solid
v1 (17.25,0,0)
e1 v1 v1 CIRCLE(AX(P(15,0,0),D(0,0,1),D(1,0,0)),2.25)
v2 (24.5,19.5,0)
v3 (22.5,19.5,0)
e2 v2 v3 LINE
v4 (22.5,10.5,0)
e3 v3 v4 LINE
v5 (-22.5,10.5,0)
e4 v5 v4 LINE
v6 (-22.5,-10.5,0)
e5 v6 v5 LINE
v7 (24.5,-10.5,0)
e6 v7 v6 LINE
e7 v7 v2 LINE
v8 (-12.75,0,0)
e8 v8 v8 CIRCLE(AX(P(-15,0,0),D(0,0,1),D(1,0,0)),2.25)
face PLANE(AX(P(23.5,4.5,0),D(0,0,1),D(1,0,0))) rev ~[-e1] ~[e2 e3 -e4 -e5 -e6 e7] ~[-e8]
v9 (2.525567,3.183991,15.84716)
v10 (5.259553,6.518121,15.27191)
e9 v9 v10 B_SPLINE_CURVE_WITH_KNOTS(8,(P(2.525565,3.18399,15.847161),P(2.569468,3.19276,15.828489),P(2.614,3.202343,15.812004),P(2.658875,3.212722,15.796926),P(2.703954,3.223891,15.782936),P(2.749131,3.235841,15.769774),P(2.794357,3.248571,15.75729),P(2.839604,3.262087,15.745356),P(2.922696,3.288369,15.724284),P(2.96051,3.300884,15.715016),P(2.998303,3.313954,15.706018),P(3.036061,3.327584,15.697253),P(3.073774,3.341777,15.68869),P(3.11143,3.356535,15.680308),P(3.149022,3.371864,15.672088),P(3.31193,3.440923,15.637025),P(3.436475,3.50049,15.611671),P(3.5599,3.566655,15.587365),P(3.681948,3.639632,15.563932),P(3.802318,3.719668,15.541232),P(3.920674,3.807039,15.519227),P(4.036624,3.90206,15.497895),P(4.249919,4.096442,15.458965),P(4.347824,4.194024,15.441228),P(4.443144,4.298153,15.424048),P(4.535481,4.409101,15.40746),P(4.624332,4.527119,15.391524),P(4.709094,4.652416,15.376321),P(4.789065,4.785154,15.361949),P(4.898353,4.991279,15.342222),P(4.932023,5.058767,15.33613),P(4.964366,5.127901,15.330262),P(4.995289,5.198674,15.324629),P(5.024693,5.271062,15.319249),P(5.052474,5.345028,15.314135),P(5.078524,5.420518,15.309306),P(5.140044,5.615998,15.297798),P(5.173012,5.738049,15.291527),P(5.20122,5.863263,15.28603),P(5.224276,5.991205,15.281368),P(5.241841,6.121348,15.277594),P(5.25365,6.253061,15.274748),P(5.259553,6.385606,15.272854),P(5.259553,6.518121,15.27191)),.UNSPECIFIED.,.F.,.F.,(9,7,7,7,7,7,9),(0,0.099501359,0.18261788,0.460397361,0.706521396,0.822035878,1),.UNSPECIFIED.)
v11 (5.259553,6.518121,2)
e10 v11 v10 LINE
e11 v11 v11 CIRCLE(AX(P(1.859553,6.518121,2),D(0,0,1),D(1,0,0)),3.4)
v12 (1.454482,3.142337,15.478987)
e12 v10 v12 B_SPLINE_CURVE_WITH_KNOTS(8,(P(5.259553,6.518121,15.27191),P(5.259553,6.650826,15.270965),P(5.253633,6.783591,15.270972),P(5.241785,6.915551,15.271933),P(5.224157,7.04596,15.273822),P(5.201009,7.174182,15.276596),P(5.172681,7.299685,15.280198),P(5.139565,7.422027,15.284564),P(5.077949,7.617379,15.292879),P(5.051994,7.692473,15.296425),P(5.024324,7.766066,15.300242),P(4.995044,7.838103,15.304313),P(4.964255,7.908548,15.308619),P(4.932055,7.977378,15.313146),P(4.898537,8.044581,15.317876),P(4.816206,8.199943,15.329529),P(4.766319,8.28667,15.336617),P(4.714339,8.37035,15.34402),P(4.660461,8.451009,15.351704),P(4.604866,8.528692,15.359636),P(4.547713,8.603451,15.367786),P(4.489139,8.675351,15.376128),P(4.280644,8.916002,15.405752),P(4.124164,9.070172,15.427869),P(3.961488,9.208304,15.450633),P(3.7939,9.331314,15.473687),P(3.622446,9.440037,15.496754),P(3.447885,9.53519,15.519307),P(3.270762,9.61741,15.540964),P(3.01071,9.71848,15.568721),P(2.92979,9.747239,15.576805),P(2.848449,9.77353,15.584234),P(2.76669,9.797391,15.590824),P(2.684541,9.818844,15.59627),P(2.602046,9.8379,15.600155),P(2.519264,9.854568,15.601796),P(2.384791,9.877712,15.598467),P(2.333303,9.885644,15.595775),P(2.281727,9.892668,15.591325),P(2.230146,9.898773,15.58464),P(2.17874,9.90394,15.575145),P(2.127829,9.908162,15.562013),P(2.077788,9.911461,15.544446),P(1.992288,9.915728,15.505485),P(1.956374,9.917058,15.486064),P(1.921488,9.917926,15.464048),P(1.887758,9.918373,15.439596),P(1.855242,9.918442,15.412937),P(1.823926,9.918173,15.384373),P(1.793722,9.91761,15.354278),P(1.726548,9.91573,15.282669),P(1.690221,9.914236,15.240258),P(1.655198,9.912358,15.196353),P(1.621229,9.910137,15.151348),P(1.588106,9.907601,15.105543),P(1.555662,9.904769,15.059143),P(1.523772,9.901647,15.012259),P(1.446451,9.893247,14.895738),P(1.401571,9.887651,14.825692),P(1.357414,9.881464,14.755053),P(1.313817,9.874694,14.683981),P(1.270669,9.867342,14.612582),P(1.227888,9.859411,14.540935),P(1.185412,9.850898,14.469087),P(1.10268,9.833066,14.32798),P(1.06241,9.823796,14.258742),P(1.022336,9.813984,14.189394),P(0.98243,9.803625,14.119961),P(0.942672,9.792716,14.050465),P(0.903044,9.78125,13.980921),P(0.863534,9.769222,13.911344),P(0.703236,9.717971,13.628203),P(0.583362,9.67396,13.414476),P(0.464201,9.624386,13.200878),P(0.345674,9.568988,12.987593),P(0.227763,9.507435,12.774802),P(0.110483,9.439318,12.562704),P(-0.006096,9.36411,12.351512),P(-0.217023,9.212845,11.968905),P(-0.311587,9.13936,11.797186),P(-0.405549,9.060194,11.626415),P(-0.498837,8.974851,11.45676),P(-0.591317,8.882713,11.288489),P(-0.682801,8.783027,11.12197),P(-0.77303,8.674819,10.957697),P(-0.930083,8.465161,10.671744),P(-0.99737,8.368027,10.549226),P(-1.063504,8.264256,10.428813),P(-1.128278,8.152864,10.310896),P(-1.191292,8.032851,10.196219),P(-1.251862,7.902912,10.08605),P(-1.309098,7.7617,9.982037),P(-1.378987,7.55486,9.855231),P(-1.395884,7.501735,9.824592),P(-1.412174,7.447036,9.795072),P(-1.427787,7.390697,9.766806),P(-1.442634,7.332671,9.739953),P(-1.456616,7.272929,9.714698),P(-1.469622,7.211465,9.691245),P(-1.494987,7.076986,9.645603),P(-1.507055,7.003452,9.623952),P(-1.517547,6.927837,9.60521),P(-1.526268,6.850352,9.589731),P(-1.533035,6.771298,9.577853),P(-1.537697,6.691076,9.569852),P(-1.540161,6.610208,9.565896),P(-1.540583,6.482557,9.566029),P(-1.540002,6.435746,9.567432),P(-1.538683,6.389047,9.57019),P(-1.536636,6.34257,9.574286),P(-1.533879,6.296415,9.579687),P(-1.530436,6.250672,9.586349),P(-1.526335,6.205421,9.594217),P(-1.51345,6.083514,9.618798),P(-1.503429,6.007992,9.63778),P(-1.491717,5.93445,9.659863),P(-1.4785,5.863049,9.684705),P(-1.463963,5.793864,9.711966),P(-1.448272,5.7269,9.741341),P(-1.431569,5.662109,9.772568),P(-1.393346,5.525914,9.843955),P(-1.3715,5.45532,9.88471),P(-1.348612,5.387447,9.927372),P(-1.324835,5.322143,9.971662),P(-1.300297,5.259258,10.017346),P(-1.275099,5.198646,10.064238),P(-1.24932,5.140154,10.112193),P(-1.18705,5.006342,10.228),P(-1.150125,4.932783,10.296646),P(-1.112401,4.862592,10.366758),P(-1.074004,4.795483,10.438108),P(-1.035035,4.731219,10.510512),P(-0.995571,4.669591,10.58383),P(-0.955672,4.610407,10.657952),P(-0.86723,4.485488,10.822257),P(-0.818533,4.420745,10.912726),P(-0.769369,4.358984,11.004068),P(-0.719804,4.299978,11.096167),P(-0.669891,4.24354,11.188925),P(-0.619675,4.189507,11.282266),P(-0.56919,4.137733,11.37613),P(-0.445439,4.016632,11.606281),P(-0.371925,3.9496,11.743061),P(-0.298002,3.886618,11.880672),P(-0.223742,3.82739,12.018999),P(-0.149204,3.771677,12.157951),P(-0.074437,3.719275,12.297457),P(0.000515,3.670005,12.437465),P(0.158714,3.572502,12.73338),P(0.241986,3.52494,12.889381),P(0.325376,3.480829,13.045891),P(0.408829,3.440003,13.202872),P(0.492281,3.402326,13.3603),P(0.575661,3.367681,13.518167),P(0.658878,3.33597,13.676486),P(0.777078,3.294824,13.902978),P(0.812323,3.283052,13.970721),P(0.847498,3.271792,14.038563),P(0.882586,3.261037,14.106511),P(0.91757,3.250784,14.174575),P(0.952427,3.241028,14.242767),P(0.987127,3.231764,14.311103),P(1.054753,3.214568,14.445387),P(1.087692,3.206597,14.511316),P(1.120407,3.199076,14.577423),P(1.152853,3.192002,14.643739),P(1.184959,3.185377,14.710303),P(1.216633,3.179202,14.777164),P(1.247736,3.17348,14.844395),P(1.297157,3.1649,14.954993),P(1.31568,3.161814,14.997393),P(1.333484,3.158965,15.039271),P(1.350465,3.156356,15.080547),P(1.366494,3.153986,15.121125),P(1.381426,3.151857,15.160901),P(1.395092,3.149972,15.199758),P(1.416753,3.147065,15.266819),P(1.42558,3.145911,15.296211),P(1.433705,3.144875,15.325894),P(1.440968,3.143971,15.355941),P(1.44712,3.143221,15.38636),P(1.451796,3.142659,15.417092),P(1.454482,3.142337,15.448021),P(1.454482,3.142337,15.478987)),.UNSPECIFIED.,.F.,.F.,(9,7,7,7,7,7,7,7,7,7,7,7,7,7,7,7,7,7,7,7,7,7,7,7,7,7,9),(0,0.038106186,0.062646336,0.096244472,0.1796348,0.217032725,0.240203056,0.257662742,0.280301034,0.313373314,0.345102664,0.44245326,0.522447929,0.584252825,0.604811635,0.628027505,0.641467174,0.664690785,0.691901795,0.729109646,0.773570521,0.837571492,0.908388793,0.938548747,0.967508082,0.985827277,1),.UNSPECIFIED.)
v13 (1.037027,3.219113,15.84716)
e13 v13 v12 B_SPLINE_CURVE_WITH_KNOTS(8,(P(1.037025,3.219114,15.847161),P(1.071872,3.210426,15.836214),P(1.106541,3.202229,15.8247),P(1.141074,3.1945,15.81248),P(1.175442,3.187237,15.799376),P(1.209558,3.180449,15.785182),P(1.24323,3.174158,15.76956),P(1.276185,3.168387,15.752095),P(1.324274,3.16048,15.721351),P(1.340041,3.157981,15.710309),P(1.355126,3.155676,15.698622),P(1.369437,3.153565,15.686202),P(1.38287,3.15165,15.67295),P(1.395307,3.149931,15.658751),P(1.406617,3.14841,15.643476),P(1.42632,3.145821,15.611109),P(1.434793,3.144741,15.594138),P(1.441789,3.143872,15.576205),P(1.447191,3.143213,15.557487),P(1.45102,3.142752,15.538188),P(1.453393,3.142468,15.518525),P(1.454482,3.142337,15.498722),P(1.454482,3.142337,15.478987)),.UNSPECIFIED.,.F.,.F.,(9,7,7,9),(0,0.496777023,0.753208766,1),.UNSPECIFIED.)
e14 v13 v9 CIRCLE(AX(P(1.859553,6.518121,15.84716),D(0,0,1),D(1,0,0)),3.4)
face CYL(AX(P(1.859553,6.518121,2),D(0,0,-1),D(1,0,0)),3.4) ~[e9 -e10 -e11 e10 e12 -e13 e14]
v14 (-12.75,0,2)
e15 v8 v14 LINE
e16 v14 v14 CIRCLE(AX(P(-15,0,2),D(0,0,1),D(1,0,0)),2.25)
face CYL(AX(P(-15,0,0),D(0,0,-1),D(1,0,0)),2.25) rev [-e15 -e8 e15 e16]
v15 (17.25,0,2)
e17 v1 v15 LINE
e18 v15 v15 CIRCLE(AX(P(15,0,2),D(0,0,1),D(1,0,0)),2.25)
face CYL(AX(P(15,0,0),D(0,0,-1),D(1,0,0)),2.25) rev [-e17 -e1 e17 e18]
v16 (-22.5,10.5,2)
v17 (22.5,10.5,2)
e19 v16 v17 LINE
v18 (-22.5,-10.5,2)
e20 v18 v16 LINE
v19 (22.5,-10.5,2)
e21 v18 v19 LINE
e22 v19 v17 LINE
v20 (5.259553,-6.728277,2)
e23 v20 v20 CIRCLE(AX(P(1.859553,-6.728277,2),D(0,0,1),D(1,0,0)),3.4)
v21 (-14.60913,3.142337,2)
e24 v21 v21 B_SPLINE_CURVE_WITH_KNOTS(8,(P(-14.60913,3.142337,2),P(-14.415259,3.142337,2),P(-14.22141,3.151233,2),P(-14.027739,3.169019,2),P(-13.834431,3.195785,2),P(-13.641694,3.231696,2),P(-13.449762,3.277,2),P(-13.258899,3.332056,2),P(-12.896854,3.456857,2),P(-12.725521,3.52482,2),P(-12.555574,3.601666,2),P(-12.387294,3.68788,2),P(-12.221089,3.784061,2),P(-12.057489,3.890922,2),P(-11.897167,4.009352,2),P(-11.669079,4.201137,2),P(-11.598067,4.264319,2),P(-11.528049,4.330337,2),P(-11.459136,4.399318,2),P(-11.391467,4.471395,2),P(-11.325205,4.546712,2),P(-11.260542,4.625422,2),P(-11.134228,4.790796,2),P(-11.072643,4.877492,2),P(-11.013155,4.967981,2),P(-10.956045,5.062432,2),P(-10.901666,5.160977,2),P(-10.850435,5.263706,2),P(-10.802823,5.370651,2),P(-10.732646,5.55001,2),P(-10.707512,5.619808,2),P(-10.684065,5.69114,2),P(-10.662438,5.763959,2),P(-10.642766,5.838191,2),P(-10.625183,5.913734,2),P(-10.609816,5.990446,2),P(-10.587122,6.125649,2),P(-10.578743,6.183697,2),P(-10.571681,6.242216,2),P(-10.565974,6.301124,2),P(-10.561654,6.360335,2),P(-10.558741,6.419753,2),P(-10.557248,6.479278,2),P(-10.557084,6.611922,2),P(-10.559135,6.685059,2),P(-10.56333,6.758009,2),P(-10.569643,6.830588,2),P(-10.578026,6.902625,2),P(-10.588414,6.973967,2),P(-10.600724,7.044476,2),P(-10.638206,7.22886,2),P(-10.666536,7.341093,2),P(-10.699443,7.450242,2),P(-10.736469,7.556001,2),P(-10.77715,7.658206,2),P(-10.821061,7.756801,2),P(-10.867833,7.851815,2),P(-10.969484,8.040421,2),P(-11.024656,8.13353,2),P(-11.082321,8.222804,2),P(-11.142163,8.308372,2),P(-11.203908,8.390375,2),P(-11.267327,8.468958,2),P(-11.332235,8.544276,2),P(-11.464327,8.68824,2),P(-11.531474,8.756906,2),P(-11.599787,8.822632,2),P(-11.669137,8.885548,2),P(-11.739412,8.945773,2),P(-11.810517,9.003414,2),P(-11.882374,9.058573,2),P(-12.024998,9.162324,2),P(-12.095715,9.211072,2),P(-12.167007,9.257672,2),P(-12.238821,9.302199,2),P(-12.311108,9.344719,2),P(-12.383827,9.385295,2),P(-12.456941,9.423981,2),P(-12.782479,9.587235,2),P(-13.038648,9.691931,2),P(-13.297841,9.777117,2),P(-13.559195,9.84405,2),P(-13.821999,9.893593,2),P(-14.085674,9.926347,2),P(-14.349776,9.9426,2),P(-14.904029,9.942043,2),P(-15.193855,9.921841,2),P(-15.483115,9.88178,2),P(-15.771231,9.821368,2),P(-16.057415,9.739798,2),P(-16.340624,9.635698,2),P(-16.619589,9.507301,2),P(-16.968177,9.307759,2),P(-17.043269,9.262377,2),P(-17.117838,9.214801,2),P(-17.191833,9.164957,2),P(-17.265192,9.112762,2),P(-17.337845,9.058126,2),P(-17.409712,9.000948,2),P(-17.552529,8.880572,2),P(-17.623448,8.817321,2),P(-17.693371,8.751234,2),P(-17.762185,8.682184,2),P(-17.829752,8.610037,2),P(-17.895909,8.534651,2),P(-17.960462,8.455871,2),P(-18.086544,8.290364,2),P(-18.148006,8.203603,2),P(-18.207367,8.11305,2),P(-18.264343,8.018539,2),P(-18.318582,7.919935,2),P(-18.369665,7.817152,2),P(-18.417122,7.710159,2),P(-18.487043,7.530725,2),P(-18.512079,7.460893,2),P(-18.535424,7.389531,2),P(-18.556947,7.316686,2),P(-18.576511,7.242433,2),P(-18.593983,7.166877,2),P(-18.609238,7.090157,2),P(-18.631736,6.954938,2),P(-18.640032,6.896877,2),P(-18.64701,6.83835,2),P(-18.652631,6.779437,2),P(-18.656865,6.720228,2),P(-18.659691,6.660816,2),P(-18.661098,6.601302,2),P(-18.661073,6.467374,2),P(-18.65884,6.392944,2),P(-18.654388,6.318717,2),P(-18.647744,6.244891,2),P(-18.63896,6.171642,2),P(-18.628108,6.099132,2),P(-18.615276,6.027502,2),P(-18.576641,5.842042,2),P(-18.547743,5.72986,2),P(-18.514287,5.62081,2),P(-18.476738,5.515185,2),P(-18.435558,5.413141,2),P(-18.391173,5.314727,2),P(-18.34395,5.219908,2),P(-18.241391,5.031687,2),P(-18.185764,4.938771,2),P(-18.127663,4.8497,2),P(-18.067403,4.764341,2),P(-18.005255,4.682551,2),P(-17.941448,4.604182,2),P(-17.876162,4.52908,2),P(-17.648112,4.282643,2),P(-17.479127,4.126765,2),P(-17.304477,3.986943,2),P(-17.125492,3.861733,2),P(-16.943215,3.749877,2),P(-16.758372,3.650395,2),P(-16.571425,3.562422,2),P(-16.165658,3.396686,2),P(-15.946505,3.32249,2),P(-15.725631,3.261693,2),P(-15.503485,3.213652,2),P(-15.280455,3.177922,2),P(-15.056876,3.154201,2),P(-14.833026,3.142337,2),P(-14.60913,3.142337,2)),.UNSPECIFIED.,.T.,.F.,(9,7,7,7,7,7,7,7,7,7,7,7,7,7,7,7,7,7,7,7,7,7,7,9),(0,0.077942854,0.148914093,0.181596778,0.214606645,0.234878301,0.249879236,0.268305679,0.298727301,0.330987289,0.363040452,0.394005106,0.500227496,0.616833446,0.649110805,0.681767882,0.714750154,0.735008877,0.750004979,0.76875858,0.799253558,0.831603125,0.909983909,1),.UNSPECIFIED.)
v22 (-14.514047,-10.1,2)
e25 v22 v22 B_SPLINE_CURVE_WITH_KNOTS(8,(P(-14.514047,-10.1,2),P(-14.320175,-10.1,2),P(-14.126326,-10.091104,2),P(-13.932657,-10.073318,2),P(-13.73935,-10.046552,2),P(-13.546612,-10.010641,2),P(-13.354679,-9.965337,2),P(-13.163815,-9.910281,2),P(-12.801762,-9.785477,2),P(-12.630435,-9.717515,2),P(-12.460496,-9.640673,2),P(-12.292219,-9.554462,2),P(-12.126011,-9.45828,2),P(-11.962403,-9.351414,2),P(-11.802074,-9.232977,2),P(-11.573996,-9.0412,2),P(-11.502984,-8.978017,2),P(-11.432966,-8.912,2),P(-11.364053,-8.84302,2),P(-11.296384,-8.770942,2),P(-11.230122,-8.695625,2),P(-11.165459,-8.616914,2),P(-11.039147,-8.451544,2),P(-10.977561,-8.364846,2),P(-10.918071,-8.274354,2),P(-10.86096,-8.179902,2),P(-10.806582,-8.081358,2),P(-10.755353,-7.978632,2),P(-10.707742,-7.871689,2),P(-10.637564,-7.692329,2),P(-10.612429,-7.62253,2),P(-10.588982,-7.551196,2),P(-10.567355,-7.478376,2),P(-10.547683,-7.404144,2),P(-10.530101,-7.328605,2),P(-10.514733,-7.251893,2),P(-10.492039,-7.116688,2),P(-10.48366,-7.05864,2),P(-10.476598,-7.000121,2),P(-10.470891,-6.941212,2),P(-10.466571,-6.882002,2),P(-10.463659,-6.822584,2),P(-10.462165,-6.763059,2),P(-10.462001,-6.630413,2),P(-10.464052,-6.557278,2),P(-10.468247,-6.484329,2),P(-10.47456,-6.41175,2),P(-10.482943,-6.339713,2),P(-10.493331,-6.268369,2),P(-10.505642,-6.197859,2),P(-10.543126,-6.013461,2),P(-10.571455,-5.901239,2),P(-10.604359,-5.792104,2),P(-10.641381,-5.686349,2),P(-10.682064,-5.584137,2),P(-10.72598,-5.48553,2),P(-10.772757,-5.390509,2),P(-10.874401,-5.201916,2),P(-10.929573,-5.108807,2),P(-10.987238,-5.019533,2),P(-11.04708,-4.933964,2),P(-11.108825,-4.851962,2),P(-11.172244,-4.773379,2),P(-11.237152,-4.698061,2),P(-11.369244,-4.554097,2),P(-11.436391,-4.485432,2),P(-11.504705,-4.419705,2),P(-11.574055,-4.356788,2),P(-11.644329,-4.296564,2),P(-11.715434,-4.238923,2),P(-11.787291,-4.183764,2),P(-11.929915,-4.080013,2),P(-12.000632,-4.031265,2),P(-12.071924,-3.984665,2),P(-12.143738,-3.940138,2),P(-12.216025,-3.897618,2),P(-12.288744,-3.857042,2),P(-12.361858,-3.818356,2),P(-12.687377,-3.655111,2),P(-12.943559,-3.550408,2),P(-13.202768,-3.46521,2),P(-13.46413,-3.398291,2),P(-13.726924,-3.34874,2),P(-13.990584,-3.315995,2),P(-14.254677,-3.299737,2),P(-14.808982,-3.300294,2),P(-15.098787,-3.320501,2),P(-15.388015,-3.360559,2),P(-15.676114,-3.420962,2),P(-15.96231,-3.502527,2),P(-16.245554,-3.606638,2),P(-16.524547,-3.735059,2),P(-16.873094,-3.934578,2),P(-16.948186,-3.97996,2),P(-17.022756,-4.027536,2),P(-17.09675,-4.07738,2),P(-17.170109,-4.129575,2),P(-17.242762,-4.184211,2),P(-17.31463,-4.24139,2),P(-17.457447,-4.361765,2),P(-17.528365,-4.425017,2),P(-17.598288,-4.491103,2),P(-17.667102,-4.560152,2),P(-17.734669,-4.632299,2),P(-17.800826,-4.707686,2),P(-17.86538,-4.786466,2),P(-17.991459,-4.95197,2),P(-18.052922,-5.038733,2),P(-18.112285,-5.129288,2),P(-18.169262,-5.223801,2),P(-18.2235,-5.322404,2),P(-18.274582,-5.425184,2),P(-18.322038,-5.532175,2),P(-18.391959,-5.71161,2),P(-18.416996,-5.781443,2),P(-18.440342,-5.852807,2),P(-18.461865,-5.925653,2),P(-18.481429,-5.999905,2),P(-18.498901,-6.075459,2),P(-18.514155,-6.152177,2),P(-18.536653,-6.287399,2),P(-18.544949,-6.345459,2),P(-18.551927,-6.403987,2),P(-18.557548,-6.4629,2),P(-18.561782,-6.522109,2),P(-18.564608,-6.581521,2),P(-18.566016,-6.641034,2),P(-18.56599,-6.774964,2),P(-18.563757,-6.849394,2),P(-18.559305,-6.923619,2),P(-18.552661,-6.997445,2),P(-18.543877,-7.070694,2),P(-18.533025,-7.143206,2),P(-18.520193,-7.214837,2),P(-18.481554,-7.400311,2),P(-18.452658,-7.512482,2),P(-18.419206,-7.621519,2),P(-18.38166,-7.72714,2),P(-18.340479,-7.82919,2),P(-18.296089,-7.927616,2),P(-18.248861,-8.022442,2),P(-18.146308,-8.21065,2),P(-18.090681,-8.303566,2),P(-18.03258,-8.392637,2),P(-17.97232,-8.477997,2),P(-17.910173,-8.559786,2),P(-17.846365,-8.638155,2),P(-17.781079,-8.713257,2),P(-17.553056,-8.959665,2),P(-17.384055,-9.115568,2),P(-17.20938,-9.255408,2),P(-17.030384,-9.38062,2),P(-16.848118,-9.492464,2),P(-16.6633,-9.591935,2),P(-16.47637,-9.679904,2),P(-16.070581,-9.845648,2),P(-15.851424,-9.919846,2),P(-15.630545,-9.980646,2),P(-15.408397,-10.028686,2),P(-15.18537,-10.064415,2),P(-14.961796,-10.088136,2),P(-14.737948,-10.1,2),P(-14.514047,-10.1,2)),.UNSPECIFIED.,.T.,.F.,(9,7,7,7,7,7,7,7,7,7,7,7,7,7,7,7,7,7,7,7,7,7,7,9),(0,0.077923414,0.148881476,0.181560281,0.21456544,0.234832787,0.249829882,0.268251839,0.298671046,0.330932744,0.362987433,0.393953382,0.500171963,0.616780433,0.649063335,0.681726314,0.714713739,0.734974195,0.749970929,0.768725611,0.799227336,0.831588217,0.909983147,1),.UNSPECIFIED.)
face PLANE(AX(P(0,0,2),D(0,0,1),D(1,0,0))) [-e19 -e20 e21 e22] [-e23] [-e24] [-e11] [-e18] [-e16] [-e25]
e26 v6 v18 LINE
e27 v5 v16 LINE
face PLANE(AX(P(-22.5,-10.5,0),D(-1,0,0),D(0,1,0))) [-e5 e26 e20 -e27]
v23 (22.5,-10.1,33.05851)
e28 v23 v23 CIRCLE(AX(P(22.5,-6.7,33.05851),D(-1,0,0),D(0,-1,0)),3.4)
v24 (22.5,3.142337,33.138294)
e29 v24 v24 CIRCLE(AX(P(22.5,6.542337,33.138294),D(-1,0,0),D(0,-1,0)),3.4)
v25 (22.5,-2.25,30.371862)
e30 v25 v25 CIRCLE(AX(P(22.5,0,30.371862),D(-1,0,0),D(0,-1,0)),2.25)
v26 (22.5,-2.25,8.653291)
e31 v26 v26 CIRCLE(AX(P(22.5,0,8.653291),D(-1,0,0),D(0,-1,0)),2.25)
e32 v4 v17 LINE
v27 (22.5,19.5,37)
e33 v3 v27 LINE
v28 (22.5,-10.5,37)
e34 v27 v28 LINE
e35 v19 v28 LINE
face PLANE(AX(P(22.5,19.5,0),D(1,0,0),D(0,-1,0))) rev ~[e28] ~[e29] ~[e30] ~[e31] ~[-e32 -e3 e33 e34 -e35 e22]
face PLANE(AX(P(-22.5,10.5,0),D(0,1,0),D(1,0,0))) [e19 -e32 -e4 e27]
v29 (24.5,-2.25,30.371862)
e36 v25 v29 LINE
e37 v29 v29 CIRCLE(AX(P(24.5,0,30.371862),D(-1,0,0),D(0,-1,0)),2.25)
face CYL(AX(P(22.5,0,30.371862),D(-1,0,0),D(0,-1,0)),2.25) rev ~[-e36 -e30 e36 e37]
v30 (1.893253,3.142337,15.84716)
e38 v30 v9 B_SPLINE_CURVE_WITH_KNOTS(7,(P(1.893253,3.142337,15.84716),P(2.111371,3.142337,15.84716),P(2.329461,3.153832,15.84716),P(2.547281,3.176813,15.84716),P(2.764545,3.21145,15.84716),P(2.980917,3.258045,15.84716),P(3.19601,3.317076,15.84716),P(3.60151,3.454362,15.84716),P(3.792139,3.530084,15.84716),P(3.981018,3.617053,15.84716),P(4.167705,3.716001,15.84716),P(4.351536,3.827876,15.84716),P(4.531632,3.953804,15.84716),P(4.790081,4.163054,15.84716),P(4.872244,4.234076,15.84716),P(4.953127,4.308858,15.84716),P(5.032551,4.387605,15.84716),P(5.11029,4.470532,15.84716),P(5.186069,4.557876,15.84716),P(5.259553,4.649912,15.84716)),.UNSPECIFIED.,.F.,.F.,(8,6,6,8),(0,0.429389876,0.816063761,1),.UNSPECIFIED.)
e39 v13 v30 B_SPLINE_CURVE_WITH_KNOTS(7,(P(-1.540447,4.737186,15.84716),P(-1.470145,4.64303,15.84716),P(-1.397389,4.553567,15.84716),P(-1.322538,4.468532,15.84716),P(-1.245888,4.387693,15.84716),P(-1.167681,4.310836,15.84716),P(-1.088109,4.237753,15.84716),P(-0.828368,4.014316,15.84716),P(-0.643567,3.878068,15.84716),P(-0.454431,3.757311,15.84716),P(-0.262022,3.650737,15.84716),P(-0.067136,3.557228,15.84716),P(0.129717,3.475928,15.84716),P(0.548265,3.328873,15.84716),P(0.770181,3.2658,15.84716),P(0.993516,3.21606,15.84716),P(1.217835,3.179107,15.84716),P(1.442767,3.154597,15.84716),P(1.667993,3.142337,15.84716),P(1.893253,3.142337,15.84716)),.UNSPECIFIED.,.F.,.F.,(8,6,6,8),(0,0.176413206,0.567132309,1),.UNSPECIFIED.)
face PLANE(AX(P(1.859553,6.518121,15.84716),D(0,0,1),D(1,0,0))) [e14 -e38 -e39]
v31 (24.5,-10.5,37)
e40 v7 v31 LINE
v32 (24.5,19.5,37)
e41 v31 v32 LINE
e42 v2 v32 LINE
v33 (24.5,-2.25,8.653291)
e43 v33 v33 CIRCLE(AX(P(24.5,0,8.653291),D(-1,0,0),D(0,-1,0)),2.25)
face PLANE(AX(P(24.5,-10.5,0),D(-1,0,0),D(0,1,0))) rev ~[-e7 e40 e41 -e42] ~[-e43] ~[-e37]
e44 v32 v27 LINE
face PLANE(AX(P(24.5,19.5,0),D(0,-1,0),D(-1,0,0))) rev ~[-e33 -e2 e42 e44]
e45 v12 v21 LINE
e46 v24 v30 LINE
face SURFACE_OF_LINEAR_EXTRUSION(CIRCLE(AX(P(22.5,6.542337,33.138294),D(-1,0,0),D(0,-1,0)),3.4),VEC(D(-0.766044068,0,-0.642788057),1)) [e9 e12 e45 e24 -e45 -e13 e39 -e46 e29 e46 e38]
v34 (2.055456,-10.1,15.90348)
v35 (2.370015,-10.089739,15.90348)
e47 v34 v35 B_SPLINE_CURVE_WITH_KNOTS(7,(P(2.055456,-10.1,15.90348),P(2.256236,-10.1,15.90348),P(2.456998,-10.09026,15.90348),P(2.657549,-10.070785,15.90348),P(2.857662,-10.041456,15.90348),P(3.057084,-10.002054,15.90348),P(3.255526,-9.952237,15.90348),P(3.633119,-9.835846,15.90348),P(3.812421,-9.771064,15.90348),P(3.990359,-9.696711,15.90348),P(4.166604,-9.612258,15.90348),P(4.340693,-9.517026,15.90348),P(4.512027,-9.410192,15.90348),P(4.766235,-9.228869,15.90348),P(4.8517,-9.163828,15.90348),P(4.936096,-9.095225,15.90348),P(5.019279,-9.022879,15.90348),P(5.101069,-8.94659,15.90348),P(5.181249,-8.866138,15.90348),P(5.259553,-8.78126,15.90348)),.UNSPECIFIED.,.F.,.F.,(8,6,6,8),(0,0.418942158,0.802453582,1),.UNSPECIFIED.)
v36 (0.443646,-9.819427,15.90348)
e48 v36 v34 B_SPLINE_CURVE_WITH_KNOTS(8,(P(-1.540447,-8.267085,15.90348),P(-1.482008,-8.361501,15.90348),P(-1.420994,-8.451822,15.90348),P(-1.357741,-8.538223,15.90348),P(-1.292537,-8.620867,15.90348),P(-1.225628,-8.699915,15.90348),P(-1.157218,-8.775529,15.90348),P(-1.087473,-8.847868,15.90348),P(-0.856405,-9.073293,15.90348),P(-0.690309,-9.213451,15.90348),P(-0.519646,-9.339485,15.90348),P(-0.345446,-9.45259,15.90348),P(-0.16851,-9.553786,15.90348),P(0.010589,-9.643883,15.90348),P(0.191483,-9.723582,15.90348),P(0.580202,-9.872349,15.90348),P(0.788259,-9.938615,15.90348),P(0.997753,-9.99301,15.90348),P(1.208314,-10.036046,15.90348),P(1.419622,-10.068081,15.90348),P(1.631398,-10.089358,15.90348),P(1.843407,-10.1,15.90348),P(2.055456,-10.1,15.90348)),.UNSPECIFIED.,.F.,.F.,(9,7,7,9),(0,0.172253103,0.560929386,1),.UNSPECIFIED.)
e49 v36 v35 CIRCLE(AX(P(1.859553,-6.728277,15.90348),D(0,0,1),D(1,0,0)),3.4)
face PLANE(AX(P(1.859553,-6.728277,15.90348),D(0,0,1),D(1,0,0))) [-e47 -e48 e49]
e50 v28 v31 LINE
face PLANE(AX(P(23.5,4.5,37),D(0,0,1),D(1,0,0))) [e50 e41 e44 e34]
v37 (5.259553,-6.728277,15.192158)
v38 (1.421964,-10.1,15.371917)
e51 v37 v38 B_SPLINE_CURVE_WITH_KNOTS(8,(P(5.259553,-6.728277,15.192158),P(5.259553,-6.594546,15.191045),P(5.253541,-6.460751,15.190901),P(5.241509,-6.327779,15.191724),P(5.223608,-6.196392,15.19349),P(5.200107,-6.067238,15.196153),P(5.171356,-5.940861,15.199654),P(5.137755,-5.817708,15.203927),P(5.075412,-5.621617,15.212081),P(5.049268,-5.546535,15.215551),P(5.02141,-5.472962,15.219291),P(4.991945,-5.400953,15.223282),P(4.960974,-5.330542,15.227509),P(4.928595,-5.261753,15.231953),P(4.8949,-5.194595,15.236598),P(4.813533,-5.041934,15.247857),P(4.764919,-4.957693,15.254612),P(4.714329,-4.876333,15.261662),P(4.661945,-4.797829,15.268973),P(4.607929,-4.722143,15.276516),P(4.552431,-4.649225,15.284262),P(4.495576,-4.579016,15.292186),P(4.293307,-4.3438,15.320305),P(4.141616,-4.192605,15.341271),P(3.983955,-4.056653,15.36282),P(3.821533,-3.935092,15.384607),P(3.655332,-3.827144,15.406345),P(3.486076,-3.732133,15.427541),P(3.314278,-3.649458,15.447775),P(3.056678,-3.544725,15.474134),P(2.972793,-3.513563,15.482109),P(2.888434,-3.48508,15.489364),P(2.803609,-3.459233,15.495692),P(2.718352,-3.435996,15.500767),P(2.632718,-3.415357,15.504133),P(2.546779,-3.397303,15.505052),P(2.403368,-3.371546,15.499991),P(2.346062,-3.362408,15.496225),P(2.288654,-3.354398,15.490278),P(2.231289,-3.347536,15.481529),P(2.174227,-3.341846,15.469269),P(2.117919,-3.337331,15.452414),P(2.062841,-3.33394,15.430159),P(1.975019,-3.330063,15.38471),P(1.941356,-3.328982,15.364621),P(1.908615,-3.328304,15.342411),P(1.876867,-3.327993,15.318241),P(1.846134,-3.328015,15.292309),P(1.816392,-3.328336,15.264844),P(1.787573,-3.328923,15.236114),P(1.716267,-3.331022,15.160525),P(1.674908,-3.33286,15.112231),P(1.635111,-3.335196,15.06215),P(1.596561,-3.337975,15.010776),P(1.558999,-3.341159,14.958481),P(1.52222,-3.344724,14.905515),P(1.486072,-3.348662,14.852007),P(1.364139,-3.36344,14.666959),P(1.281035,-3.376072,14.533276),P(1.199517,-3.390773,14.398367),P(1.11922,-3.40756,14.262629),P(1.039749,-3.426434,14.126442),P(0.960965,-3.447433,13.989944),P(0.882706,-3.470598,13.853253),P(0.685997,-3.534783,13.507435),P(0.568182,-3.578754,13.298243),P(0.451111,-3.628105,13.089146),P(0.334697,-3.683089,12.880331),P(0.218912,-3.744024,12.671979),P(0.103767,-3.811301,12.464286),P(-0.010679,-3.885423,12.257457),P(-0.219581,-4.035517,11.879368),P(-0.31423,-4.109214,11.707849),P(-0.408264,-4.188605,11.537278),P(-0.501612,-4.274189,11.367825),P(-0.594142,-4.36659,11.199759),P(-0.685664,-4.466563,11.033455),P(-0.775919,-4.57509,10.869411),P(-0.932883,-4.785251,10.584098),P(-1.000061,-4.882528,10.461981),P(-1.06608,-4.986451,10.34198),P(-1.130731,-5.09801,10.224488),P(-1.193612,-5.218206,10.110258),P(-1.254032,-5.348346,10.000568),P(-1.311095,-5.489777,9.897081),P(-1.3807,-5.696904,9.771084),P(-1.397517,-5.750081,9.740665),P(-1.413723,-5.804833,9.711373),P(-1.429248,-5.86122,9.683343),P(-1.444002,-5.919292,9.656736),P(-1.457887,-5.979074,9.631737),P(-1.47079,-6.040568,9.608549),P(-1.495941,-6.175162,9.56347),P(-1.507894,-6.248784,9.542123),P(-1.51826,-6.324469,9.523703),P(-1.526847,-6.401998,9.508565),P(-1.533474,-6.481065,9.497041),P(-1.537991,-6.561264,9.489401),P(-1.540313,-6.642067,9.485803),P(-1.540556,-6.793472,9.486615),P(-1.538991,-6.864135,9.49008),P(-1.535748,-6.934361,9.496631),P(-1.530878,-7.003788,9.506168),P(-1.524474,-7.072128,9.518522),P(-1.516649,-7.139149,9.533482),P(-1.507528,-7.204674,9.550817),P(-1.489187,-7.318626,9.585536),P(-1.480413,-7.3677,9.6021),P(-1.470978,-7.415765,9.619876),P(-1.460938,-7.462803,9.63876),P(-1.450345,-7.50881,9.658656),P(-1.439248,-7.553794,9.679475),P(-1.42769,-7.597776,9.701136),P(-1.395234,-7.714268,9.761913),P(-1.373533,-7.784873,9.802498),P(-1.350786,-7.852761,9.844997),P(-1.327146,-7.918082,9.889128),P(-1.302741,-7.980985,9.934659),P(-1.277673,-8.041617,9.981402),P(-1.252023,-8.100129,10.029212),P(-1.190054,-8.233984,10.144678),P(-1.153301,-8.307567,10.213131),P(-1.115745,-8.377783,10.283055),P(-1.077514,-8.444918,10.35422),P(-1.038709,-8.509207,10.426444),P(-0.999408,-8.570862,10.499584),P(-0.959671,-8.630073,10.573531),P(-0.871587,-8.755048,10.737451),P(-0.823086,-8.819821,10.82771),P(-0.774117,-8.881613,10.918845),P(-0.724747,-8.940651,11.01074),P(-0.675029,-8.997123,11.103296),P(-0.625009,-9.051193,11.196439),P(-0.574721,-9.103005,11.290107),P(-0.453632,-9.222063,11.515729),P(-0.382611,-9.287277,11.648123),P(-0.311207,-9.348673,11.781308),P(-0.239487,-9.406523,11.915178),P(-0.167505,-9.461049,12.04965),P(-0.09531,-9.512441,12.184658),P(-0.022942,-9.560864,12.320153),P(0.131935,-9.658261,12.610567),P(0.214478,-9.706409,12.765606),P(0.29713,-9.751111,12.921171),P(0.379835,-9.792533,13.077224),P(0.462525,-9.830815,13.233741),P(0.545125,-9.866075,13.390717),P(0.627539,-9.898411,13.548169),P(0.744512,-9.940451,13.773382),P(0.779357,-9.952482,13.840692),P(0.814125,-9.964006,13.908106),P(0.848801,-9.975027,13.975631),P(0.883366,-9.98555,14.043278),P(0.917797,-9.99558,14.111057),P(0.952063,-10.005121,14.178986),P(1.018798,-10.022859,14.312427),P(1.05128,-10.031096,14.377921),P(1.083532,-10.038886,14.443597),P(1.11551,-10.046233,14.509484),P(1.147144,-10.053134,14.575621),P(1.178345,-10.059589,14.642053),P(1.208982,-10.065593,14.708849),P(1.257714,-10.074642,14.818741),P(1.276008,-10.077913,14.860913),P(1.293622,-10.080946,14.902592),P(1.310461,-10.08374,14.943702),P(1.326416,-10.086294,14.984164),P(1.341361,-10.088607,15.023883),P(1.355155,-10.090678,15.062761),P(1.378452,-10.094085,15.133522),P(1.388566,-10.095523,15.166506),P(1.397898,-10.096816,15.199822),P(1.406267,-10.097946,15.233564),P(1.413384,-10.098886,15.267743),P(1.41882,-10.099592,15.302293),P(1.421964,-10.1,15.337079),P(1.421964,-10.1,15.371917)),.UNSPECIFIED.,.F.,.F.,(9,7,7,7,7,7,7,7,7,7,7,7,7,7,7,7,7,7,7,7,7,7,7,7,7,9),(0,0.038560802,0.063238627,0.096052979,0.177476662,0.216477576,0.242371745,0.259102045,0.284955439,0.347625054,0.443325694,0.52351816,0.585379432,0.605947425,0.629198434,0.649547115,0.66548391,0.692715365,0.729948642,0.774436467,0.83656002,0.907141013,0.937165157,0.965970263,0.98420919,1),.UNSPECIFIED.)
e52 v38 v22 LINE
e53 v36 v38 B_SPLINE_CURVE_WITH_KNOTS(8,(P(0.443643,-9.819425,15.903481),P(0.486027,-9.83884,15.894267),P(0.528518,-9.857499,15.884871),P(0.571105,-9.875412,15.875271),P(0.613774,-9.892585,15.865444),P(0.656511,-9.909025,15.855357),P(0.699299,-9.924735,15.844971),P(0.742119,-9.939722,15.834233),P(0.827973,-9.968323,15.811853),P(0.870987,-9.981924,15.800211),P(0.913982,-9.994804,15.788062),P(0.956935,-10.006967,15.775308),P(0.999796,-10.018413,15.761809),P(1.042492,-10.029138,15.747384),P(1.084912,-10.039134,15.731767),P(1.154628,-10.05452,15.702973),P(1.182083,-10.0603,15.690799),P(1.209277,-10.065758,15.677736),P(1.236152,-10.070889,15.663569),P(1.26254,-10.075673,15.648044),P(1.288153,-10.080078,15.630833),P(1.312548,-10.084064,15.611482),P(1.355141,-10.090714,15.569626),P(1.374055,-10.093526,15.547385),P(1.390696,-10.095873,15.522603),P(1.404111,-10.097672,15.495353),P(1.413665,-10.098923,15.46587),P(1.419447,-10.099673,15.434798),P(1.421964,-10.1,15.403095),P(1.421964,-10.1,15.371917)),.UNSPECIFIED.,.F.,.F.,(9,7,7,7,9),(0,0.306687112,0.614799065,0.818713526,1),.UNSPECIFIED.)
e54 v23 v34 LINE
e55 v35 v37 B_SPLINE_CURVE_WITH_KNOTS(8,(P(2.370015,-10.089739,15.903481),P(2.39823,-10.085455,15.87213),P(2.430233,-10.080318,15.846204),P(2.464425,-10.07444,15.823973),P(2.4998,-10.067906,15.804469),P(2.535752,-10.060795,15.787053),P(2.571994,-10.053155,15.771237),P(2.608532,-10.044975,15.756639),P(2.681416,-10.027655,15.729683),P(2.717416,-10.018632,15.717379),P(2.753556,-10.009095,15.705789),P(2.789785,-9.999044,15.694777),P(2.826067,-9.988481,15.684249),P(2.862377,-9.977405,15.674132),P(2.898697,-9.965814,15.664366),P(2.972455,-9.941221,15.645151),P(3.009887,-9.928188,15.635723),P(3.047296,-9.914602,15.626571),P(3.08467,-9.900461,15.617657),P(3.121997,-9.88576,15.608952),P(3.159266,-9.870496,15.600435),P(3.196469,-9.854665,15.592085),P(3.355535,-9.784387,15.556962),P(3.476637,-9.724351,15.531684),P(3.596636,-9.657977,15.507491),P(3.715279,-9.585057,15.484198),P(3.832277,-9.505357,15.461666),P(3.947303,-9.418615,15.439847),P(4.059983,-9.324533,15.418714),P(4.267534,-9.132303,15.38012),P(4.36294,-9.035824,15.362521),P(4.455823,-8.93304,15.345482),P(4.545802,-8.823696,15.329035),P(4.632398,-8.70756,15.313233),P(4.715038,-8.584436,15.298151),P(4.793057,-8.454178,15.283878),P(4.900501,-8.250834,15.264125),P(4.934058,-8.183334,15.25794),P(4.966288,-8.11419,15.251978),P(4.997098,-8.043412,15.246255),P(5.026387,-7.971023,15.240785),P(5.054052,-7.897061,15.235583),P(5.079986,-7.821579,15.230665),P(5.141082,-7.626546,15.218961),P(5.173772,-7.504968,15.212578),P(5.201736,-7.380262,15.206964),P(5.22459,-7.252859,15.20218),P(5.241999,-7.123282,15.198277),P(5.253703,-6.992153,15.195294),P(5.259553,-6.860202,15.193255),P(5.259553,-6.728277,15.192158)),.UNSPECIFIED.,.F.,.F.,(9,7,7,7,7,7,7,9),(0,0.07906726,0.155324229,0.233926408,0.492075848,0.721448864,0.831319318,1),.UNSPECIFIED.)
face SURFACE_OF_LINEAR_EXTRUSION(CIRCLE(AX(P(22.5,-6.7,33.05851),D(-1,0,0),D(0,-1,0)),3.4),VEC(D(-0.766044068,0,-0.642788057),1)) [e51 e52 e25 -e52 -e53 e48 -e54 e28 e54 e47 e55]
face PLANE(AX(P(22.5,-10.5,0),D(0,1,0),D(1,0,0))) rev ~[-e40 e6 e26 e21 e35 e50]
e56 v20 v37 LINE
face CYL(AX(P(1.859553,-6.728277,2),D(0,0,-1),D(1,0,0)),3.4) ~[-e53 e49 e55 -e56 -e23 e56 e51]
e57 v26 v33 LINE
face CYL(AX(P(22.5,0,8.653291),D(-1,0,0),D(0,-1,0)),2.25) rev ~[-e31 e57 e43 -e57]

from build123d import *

# Parameters (mm, degrees)
F0_W      = 45
F0_H      = 21
F0_R      = 2.25
F1_DEPTH  = 2
F2_DEPTH  = 37
F3_R      = 2.25
F4_DEPTH  = 2
F5_DEPTH  = 2
F6_R      = 3.4
F10_DEPTH = 25.29364
F11_R     = 3.4
F12_DEPTH = 13.84716
F13_DEPTH = 13.90348


with BuildPart() as f1:
    # F0 (on Top) → F1 (new body)
    with BuildSketch(Plane.XY):
        Rectangle(F0_W, F0_H)
        with Locations((-15, 0)):
            Circle(F0_R, mode=Mode.SUBTRACT)
        with Locations((15, 0)):
            Circle(F0_R, mode=Mode.SUBTRACT)
    extrude(amount=F1_DEPTH)

    # F0 (on Top) → F2 (join)
    with BuildSketch(Plane.XY):
        Polygon((22.5, 19.5), (22.5, 10.5), (22.5, -10.5), (24.5, -10.5), (24.5, 19.5), align=None)
    extrude(amount=F2_DEPTH)

    # F3 (on face) → F4 (cut)
    with BuildSketch(Plane(origin=(22.5, 0, 0), x_dir=(0, -1, 0), z_dir=(-1, 0, 0))):
        with Locations((0, 30.371862)):
            Circle(F3_R)
    extrude(amount=-F4_DEPTH, mode=Mode.SUBTRACT)

    # F3 (on face) → F5 (cut)
    with BuildSketch(Plane(origin=(22.5, 0, 0), x_dir=(0, -1, 0), z_dir=(-1, 0, 0))):
        with Locations((0, 8.653291)):
            Circle(F3_R)
    extrude(amount=-F5_DEPTH, mode=Mode.SUBTRACT)

    # F9: sweep along a path in F8
    with BuildLine(Plane(origin=(-6.98168, 0, 8.320443), x_dir=(0.766044, 0, 0.642788), z_dir=(0.642788, 0, -0.766044))) as f9_path:
        Line((38.485602, -5.201812), (-16.503841, -5.201812))
    # F6 (on face) → F9 (sweep)
    with BuildSketch(Plane(origin=(22.5, 0, 0), x_dir=(0, -1, 0), z_dir=(-1, 0, 0))):
        with Locations((-6.542337, 33.138294)):
            Circle(F6_R)
        with Locations((6.7, 33.05851)):
            Circle(F6_R)
    sweep(path=f9_path.line)

    # F0 (on Top) → F10 (cut)
    with BuildSketch(Plane.XY):
        Rectangle(F0_W, F0_H)
        with Locations((-15, 0)):
            Circle(F0_R, mode=Mode.SUBTRACT)
        with Locations((15, 0)):
            Circle(F0_R, mode=Mode.SUBTRACT)
    extrude(amount=-F10_DEPTH, mode=Mode.SUBTRACT)

    # F11 (on face) → F12 (join)
    with BuildSketch(Plane.XY.offset(2)):
        with Locations((1.859553, 6.518121)):
            Circle(F11_R)
    extrude(amount=F12_DEPTH)

    # F11 (on face) → F13 (join)
    with BuildSketch(Plane.XY.offset(2)):
        with Locations((1.859553, -6.728277)):
            Circle(F11_R)
    extrude(amount=F13_DEPTH)


solid = f1.part
